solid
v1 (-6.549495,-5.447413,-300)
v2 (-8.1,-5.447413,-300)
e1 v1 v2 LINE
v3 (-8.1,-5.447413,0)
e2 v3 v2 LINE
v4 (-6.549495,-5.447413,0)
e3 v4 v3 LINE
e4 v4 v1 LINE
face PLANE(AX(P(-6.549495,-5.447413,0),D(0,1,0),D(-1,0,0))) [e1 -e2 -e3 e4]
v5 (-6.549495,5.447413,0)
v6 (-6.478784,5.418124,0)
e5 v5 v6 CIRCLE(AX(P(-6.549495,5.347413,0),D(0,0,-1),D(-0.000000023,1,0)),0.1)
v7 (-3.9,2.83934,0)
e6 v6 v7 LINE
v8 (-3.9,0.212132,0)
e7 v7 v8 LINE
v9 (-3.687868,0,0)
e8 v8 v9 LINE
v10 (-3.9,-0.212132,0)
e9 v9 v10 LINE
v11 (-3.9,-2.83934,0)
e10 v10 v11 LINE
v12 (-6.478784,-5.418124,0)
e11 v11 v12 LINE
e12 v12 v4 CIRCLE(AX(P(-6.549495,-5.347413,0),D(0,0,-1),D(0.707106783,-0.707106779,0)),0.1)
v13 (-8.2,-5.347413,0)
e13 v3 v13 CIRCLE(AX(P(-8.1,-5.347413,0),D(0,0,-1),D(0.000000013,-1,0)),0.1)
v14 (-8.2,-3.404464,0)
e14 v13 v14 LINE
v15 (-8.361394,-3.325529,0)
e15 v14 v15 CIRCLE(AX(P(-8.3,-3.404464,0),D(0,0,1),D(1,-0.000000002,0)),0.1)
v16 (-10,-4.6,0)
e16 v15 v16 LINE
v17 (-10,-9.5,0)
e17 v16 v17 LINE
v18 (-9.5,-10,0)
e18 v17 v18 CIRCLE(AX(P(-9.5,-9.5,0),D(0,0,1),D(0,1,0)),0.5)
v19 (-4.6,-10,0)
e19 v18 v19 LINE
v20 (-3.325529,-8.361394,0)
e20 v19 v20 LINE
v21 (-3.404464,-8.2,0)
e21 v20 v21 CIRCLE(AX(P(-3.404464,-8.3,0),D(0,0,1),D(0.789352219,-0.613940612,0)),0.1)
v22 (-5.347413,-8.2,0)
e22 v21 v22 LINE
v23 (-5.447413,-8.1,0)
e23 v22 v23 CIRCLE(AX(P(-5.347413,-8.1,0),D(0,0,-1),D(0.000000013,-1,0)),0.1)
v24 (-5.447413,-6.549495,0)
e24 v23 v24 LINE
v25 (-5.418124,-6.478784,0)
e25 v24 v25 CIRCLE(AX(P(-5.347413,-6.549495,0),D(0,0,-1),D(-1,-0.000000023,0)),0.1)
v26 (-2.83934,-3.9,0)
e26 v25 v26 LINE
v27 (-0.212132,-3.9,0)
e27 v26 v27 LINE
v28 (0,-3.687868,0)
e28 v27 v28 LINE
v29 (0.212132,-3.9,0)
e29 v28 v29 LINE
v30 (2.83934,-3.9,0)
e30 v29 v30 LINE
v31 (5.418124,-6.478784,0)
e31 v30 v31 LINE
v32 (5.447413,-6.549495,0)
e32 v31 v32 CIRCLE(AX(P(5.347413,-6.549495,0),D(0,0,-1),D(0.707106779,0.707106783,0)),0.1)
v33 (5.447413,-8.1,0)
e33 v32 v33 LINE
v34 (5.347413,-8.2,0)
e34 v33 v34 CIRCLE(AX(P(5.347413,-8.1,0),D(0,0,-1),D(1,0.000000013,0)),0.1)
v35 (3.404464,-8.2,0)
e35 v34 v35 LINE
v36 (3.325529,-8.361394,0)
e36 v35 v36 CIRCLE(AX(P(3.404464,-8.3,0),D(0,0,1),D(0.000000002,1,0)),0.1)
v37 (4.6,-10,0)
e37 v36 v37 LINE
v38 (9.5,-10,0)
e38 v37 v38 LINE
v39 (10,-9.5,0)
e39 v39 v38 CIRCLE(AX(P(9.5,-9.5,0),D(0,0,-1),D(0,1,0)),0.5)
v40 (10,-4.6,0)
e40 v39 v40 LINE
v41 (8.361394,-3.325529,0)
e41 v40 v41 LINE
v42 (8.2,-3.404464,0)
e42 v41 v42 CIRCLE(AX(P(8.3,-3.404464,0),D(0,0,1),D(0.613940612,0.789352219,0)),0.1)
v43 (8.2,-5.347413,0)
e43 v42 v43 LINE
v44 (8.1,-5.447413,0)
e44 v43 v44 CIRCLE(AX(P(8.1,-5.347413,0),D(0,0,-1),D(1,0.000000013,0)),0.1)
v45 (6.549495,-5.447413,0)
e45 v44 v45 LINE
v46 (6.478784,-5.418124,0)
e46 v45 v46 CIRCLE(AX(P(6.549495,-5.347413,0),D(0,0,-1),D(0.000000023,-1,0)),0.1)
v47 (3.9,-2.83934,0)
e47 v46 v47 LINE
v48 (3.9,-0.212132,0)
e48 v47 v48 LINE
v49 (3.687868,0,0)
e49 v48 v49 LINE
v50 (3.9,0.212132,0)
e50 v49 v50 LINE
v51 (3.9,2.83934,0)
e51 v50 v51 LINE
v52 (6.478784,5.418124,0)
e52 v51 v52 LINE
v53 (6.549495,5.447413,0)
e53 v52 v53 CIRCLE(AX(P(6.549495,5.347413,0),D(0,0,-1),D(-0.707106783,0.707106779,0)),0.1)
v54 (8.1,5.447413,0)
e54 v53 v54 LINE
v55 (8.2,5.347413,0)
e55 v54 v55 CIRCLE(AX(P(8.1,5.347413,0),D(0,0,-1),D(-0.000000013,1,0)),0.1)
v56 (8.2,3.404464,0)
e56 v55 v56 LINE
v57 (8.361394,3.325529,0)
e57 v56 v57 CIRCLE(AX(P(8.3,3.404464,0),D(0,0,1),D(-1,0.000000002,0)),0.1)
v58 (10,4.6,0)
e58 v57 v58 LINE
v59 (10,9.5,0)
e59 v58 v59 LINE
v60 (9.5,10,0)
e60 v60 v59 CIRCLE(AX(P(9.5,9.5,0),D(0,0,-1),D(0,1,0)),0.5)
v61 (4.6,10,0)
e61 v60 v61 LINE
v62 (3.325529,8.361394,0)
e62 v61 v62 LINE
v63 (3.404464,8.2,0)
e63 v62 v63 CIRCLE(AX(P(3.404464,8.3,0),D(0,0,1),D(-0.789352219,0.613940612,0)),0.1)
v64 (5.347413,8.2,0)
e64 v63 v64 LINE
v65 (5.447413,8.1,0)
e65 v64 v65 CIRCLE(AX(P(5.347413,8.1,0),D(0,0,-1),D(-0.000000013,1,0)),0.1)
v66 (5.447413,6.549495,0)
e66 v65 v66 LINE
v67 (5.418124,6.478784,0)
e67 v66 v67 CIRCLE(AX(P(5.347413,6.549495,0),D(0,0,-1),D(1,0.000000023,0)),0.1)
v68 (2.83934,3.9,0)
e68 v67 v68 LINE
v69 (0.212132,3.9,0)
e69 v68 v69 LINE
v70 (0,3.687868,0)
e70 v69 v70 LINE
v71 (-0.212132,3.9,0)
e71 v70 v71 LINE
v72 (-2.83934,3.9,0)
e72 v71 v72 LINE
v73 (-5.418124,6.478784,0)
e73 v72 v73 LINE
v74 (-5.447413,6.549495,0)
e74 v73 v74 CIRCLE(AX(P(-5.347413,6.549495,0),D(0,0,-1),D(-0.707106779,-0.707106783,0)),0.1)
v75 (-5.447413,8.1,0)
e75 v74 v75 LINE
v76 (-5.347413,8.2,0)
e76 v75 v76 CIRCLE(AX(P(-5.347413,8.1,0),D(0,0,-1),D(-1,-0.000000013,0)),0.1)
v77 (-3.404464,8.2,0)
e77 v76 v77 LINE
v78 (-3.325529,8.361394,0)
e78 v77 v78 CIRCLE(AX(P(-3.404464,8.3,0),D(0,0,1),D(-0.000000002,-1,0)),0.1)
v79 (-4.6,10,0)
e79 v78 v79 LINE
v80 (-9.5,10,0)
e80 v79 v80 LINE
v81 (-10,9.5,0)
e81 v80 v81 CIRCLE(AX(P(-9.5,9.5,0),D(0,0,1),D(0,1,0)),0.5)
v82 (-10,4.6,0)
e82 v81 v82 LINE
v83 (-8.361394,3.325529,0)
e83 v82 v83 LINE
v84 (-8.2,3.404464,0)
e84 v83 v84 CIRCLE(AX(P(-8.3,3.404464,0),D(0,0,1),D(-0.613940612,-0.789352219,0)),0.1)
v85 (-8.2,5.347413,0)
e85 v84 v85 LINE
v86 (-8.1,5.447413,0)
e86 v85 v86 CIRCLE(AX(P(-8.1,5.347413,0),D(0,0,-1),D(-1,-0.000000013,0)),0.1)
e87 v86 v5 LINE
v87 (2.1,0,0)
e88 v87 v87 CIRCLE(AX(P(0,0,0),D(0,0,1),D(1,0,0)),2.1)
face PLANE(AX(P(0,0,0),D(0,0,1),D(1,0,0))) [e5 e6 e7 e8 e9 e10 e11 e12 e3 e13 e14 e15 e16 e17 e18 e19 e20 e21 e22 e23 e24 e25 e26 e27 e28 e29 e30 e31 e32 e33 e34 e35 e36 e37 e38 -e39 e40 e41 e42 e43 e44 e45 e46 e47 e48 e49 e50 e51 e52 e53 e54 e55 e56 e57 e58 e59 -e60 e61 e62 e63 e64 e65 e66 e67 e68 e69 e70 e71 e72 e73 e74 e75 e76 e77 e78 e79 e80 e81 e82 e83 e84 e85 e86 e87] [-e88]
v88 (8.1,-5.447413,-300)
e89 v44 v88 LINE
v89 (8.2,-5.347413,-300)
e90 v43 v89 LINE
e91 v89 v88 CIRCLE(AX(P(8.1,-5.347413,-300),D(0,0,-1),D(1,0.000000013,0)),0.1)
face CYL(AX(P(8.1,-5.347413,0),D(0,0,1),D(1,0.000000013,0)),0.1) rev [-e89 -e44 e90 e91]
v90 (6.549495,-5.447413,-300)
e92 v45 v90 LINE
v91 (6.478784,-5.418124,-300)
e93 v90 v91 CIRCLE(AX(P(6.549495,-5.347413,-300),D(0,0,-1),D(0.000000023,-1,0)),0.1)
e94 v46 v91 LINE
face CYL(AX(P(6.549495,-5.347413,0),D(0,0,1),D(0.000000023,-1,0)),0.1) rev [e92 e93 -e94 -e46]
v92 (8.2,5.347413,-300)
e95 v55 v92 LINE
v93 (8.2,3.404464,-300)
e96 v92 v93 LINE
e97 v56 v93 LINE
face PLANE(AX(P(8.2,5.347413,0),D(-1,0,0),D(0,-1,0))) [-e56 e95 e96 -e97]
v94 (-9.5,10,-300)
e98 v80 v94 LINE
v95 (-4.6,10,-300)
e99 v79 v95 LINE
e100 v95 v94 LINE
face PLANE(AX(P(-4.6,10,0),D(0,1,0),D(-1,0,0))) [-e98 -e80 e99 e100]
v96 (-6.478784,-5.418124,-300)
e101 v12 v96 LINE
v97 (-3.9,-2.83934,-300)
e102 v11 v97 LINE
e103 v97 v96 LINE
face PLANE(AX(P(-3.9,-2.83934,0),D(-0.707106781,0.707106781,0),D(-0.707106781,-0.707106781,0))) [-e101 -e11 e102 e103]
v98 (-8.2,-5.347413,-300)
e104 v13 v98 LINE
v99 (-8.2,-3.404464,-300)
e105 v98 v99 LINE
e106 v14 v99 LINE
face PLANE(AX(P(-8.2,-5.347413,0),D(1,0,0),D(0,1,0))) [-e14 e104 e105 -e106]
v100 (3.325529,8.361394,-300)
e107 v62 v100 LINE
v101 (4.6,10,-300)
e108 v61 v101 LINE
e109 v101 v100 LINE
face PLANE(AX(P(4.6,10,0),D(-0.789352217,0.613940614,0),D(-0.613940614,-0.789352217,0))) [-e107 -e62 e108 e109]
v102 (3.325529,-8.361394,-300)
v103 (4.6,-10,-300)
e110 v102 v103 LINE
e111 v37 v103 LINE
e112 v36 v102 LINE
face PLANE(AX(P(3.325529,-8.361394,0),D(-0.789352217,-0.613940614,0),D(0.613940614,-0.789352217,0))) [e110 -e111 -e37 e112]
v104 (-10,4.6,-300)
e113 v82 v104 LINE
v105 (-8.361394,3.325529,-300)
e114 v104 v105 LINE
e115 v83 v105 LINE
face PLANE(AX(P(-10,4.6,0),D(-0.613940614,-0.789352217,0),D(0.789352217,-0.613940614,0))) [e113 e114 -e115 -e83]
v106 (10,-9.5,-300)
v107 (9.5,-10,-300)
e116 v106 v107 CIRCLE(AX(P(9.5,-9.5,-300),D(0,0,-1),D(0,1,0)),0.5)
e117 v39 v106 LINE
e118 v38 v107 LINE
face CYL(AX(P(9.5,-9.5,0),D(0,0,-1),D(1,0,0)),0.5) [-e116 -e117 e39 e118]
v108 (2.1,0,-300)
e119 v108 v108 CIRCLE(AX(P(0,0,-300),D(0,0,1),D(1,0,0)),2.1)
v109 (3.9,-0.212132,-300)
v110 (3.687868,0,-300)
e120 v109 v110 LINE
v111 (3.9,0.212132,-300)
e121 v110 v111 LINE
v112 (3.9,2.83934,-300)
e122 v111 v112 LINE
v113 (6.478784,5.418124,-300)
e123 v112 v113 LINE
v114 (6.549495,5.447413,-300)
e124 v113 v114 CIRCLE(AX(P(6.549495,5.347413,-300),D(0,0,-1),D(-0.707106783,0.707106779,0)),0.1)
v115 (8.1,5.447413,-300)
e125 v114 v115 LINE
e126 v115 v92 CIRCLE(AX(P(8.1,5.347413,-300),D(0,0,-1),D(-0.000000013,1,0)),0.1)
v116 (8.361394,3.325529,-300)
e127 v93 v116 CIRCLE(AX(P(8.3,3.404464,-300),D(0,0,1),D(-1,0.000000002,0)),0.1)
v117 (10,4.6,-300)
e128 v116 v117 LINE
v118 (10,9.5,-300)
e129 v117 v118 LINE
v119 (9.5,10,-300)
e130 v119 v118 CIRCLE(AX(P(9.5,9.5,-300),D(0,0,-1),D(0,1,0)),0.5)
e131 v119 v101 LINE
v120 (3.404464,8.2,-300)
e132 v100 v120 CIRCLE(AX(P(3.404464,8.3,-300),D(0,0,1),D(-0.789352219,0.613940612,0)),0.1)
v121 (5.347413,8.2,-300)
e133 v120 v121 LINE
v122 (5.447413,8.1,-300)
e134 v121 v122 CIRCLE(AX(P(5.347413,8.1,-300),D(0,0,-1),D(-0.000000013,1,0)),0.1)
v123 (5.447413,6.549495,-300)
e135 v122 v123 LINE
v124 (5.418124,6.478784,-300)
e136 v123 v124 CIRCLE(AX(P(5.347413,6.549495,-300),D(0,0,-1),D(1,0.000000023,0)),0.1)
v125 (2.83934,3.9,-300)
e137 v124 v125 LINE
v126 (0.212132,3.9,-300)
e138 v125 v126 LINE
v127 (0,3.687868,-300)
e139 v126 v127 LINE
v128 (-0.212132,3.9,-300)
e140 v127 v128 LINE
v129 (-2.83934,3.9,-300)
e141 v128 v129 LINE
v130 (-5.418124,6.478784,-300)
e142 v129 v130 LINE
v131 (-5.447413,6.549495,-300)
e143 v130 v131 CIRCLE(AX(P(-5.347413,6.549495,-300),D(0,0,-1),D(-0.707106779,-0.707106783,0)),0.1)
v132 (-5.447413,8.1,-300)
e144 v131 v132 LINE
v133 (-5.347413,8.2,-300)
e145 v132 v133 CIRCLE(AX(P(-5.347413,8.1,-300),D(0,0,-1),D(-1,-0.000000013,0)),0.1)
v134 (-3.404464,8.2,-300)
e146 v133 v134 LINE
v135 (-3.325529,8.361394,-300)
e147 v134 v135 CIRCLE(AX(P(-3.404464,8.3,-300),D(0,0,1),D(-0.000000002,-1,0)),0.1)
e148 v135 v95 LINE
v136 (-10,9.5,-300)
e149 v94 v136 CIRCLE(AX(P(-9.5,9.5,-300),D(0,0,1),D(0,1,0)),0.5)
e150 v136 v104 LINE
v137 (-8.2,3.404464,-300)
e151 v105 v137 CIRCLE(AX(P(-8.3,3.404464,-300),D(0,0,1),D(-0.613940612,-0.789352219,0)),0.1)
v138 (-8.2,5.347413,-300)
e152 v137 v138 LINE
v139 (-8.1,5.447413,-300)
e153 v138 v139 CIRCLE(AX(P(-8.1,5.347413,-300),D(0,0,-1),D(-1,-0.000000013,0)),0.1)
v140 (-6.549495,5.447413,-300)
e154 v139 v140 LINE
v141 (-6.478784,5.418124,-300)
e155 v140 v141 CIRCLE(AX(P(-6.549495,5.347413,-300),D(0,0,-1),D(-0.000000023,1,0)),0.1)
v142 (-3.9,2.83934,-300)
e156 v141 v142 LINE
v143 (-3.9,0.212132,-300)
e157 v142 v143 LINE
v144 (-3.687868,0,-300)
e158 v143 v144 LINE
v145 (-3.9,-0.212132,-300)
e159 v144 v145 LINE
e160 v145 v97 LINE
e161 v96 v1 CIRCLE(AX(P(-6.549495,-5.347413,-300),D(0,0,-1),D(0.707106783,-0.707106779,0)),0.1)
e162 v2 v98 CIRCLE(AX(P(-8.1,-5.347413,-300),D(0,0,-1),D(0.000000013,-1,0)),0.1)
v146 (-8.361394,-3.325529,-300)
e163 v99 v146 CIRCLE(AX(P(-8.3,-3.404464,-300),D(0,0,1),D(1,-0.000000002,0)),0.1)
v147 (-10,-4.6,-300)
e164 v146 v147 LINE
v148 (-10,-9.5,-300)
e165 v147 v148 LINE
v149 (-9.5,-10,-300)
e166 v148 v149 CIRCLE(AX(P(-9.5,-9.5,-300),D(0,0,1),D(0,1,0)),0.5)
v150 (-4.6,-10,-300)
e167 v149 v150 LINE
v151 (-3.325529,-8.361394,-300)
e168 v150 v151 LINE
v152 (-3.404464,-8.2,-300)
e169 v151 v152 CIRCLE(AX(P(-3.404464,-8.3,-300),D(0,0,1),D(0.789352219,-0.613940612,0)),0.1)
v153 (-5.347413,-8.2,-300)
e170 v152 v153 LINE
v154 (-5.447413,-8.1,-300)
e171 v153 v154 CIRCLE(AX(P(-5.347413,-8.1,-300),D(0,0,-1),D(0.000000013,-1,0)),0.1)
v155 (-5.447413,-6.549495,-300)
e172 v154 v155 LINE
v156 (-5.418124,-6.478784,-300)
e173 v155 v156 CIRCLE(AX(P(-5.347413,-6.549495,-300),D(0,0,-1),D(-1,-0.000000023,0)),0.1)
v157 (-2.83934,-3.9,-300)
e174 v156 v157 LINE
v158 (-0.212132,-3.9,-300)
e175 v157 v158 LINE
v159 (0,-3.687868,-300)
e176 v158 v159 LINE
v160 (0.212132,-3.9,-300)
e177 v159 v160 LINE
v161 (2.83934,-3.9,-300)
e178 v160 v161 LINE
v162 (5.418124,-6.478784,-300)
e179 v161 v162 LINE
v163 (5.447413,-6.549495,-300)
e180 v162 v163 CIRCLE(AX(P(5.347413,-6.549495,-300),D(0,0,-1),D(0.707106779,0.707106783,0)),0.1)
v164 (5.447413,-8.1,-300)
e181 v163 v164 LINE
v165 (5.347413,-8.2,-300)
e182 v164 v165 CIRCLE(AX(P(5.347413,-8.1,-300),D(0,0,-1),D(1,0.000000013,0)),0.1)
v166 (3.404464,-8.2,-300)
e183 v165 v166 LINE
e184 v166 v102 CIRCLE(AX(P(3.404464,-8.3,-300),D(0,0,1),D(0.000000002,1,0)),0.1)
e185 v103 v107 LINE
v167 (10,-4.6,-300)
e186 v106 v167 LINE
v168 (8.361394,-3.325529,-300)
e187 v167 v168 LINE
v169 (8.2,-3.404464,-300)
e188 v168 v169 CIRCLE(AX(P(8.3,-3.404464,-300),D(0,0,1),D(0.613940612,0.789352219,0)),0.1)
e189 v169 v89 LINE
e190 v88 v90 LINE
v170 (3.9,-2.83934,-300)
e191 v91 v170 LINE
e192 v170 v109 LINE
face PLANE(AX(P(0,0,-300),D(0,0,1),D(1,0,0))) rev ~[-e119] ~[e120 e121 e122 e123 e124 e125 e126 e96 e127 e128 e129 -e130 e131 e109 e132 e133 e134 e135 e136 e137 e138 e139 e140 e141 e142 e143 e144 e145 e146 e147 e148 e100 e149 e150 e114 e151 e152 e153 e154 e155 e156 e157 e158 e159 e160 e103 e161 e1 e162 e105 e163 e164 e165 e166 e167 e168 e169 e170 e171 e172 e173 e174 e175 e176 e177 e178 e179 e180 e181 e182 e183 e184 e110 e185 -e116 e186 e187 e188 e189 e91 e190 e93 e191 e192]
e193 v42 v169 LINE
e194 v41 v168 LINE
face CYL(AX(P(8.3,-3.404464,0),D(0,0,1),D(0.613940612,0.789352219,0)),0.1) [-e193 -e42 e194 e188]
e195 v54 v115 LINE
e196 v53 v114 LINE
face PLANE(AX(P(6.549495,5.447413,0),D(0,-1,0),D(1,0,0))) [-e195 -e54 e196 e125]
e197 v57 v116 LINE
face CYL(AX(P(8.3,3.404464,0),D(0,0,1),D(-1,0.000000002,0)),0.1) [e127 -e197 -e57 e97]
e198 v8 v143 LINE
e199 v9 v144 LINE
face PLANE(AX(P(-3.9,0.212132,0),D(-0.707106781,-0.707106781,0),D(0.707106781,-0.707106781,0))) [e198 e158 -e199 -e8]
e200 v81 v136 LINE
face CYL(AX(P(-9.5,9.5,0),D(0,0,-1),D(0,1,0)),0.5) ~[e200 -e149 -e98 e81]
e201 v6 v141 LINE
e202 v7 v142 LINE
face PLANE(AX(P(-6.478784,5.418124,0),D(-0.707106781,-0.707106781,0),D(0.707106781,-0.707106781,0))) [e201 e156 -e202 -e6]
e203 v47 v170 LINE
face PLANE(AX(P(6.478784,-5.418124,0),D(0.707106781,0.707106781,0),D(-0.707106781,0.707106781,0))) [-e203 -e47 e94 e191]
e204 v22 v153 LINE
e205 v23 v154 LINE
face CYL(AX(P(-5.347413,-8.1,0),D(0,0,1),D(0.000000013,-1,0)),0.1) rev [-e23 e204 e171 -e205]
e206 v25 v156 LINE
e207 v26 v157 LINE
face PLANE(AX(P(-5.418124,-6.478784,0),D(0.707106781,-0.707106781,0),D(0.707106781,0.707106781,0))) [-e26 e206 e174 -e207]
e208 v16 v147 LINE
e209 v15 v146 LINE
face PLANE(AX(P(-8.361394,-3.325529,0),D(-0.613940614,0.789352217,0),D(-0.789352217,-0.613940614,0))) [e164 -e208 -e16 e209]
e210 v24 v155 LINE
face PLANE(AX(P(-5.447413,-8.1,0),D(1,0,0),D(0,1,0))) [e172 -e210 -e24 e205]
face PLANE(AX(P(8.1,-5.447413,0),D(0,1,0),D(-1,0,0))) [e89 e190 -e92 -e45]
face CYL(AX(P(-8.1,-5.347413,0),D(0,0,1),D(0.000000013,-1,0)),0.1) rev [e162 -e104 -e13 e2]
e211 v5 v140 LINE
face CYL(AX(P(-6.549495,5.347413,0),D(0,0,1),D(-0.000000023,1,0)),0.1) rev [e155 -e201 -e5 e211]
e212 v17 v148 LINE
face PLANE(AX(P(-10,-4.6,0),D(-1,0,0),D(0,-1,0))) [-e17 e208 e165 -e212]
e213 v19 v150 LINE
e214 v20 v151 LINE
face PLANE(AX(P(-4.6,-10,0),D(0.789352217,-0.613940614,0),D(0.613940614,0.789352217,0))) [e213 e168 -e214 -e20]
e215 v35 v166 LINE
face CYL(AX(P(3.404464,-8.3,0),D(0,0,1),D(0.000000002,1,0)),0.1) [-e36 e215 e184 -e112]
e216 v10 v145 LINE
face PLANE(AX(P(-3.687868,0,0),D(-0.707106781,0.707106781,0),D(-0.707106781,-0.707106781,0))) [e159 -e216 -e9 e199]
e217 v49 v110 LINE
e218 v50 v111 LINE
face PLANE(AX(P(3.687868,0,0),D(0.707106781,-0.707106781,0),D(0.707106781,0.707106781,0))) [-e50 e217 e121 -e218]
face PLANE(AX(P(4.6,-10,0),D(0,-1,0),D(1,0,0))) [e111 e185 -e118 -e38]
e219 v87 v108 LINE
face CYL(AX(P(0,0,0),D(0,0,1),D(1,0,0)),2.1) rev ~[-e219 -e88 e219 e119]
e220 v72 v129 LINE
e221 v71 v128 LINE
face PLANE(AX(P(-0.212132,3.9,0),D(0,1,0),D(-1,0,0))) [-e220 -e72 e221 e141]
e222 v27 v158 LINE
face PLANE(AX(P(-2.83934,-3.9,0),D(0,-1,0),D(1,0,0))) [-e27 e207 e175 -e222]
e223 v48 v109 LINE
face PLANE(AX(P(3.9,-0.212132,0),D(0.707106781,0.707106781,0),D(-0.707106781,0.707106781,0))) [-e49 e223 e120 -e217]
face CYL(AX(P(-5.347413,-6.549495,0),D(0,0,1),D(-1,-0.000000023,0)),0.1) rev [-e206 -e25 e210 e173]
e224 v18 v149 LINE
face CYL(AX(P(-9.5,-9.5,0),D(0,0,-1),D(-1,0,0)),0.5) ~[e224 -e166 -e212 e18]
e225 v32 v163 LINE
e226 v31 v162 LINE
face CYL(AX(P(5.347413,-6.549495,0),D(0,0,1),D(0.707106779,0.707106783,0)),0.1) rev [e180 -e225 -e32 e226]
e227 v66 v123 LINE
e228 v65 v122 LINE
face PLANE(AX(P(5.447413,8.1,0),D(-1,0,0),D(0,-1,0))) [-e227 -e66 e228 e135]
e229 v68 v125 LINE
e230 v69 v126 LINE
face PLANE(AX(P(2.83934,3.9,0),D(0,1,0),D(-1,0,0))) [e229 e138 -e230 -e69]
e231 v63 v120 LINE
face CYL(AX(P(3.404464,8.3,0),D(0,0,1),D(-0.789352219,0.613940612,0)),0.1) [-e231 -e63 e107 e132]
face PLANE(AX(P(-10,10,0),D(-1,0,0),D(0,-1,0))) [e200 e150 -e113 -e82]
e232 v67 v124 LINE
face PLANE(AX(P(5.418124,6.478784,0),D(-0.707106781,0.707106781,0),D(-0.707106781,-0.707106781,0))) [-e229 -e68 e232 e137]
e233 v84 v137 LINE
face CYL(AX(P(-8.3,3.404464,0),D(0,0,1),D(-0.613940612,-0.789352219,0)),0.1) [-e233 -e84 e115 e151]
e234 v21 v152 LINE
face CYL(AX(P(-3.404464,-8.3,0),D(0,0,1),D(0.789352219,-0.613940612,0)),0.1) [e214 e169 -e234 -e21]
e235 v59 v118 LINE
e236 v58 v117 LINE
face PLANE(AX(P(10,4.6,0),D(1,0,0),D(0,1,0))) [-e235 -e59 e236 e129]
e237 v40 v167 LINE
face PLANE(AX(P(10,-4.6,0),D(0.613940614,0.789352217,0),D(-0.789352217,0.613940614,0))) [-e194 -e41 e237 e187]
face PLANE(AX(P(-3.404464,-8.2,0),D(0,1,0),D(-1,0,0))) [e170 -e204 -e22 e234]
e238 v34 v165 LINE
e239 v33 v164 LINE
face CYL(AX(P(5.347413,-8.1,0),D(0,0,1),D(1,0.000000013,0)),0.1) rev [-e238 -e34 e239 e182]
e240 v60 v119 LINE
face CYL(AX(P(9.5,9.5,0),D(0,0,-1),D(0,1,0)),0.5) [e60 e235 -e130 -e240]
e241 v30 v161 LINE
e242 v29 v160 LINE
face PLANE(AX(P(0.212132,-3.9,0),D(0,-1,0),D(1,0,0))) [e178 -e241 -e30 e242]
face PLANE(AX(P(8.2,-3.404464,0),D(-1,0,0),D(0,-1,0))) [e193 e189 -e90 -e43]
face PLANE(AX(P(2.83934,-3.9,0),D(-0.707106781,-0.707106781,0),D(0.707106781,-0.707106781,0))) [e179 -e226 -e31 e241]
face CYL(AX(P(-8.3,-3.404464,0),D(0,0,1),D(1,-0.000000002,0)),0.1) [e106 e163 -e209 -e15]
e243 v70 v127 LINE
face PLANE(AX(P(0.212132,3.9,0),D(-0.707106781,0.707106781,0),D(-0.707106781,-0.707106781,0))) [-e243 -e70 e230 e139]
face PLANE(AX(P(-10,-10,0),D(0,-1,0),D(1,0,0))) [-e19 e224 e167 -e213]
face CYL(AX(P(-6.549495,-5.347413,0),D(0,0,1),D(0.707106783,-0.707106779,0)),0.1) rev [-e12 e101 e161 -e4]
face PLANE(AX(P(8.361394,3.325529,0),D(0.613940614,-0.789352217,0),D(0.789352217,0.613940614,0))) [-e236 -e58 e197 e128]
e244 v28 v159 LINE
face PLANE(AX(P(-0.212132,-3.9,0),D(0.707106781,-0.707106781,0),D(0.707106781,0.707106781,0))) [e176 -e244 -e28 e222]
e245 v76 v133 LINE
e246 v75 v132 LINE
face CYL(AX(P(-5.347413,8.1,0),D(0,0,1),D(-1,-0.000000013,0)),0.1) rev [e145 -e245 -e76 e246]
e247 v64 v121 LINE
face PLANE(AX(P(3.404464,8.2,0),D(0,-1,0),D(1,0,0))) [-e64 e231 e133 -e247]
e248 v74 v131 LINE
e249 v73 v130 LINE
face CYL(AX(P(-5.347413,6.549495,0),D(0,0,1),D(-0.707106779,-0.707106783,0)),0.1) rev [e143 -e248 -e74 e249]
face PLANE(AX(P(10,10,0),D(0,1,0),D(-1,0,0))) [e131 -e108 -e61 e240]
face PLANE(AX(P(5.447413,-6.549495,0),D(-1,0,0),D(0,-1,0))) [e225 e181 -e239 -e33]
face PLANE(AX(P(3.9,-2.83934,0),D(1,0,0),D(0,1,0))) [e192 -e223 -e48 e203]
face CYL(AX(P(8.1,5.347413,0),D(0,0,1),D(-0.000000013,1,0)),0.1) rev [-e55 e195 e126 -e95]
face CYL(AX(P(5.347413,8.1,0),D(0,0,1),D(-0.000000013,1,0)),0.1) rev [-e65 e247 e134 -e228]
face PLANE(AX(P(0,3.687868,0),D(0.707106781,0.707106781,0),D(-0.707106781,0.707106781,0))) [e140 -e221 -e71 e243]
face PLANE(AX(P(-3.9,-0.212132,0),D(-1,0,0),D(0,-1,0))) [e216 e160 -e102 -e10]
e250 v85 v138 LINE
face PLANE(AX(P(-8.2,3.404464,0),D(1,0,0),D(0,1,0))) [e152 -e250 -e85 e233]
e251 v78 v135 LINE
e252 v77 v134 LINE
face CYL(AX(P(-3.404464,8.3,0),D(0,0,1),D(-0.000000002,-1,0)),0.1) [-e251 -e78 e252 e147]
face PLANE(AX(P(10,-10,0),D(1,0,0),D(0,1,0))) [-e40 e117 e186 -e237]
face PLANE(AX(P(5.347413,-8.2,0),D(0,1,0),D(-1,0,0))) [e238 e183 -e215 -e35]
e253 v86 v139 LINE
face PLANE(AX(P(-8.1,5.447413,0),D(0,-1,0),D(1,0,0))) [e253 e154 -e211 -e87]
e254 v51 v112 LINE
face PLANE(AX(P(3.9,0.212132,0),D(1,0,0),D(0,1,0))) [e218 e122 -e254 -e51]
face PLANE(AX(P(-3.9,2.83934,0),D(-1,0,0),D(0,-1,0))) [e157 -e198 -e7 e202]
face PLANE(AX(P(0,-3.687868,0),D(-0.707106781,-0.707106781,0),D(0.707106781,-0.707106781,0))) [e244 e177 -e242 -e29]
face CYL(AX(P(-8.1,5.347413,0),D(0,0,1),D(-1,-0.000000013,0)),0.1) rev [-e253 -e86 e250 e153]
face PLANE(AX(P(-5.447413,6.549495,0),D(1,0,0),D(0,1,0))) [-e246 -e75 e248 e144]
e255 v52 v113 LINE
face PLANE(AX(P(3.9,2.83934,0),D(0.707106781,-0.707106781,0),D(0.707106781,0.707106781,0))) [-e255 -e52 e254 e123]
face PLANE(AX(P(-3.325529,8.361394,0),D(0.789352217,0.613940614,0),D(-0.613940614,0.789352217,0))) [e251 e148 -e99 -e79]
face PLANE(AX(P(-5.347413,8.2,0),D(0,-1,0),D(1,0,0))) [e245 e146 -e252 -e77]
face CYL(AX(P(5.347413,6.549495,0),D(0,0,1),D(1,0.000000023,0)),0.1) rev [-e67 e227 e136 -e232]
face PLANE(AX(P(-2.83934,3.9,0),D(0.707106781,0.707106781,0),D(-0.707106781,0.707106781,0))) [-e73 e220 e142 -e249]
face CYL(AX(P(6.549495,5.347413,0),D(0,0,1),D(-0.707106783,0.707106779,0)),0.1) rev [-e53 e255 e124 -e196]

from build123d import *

# Parameters (mm, degrees)
SKETCH1_R           = 2.1
BOSS_EXTRUDE1_DEPTH = 300
FILLET1_R           = 0.5


with BuildPart() as part:
    # Sketch1 → Boss-Extrude1 (new body)
    with BuildSketch(Plane.XY):
        with BuildLine():
            Line((-3.325528714, 8.361394061), (-4.6, 10))
            Line((-4.6, 10), (-10, 10))
            Line((-10, 10), (-10, 4.6))
            Line((-10, 4.6), (-8.361394061, 3.325528714))
            ThreePointArc((-8.361394061, 3.325528714), (-8.256064855, 3.31463241), (-8.2, 3.404463936))
            Line((-8.2, 3.404463936), (-8.2, 5.347413399))
            ThreePointArc((-8.2, 5.347413399), (-8.170710678, 5.418124078), (-8.1, 5.447413399))
            Line((-8.1, 5.447413399), (-6.549494927, 5.447413399))
            ThreePointArc((-6.549494927, 5.447413399), (-6.511226584, 5.439801353), (-6.478784249, 5.418124078))
            Line((-6.478784249, 5.418124078), (-3.9, 2.839339828))
            Line((-3.9, 2.839339828), (-3.9, 0.212132034))
            Line((-3.9, 0.212132034), (-3.687867966, 0))
            Line((-3.687867966, 0), (-3.9, -0.212132034))
            Line((-3.9, -0.212132034), (-3.9, -2.839339828))
            Line((-3.9, -2.839339828), (-6.478784249, -5.418124078))
            ThreePointArc((-6.478784249, -5.418124078), (-6.511226584, -5.439801353), (-6.549494927, -5.447413399))
            Line((-6.549494927, -5.447413399), (-8.1, -5.447413399))
            ThreePointArc((-8.1, -5.447413399), (-8.170710678, -5.418124078), (-8.2, -5.347413399))
            Line((-8.2, -5.347413399), (-8.2, -3.404463936))
            ThreePointArc((-8.2, -3.404463936), (-8.256064855, -3.31463241), (-8.361394061, -3.325528714))
            Line((-8.361394061, -3.325528714), (-10, -4.6))
            Line((-10, -4.6), (-10, -10))
            Line((-10, -10), (-4.6, -10))
            Line((-4.6, -10), (-3.325528714, -8.361394061))
            ThreePointArc((-3.325528714, -8.361394061), (-3.31463241, -8.256064855), (-3.404463936, -8.2))
            Line((-3.404463936, -8.2), (-5.347413399, -8.2))
            ThreePointArc((-5.347413399, -8.2), (-5.418124078, -8.170710678), (-5.447413399, -8.1))
            Line((-5.447413399, -8.1), (-5.447413399, -6.549494927))
            ThreePointArc((-5.447413399, -6.549494927), (-5.439801353, -6.511226584), (-5.418124078, -6.478784249))
            Line((-5.418124078, -6.478784249), (-2.839339828, -3.9))
            Line((-2.839339828, -3.9), (-0.212132034, -3.9))
            Line((-0.212132034, -3.9), (0, -3.687867966))
            Line((0, -3.687867966), (0.212132034, -3.9))
            Line((0.212132034, -3.9), (2.839339828, -3.9))
            Line((2.839339828, -3.9), (5.418124078, -6.478784249))
            ThreePointArc((5.418124078, -6.478784249), (5.439801353, -6.511226584), (5.447413399, -6.549494927))
            Line((5.447413399, -6.549494927), (5.447413399, -8.1))
            ThreePointArc((5.447413399, -8.1), (5.418124078, -8.170710678), (5.347413399, -8.2))
            Line((5.347413399, -8.2), (3.404463936, -8.2))
            ThreePointArc((3.404463936, -8.2), (3.31463241, -8.256064855), (3.325528714, -8.361394061))
            Line((3.325528714, -8.361394061), (4.6, -10))
            Line((4.6, -10), (10, -10))
            Line((10, -10), (10, -4.6))
            Line((10, -4.6), (8.361394061, -3.325528714))
            ThreePointArc((8.361394061, -3.325528714), (8.256064855, -3.31463241), (8.2, -3.404463936))
            Line((8.2, -3.404463936), (8.2, -5.347413399))
            ThreePointArc((8.2, -5.347413399), (8.170710678, -5.418124078), (8.1, -5.447413399))
            Line((8.1, -5.447413399), (6.549494927, -5.447413399))
            ThreePointArc((6.549494927, -5.447413399), (6.511226584, -5.439801353), (6.478784249, -5.418124078))
            Line((6.478784249, -5.418124078), (3.9, -2.839339828))
            Line((3.9, -2.839339828), (3.9, -0.212132034))
            Line((3.9, -0.212132034), (3.687867966, 0))
            Line((3.687867966, 0), (3.9, 0.212132034))
            Line((3.9, 0.212132034), (3.9, 2.839339828))
            Line((3.9, 2.839339828), (6.478784249, 5.418124078))
            ThreePointArc((6.478784249, 5.418124078), (6.511226584, 5.439801353), (6.549494927, 5.447413399))
            Line((6.549494927, 5.447413399), (8.1, 5.447413399))
            ThreePointArc((8.1, 5.447413399), (8.170710678, 5.418124078), (8.2, 5.347413399))
            Line((8.2, 5.347413399), (8.2, 3.404463936))
            ThreePointArc((8.2, 3.404463936), (8.256064855, 3.31463241), (8.361394061, 3.325528714))
            Line((8.361394061, 3.325528714), (10, 4.6))
            Line((10, 4.6), (10, 10))
            Line((10, 10), (4.6, 10))
            Line((4.6, 10), (3.325528714, 8.361394061))
            ThreePointArc((3.325528714, 8.361394061), (3.31463241, 8.256064855), (3.404463936, 8.2))
            Line((3.404463936, 8.2), (5.347413399, 8.2))
            ThreePointArc((5.347413399, 8.2), (5.418124078, 8.170710678), (5.447413399, 8.1))
            Line((5.447413399, 8.1), (5.447413399, 6.549494927))
            ThreePointArc((5.447413399, 6.549494927), (5.439801353, 6.511226584), (5.418124078, 6.478784249))
            Line((5.418124078, 6.478784249), (2.839339828, 3.9))
            Line((2.839339828, 3.9), (0.212132034, 3.9))
            Line((0.212132034, 3.9), (0, 3.687867966))
            Line((0, 3.687867966), (-0.212132034, 3.9))
            Line((-0.212132034, 3.9), (-2.839339828, 3.9))
            Line((-2.839339828, 3.9), (-5.418124078, 6.478784249))
            ThreePointArc((-5.418124078, 6.478784249), (-5.439801353, 6.511226584), (-5.447413399, 6.549494927))
            Line((-5.447413399, 6.549494927), (-5.447413399, 8.1))
            ThreePointArc((-5.447413399, 8.1), (-5.418124078, 8.170710678), (-5.347413399, 8.2))
            Line((-5.347413399, 8.2), (-3.404463936, 8.2))
            ThreePointArc((-3.404463936, 8.2), (-3.31463241, 8.256064855), (-3.325528714, 8.361394061))
        make_face()
        Circle(SKETCH1_R, mode=Mode.SUBTRACT)
    extrude(amount=-BOSS_EXTRUDE1_DEPTH)

    # Fillet1
    fillet1_edges = [part.edges().sort_by_distance(p)[0] for p in [
        (-10, -10, -150),
        (-10, 10, -150),
        (10, 10, -150),
        (10, -10, -150),
    ]]
    fillet(fillet1_edges, radius=FILLET1_R)


solid = part.part
